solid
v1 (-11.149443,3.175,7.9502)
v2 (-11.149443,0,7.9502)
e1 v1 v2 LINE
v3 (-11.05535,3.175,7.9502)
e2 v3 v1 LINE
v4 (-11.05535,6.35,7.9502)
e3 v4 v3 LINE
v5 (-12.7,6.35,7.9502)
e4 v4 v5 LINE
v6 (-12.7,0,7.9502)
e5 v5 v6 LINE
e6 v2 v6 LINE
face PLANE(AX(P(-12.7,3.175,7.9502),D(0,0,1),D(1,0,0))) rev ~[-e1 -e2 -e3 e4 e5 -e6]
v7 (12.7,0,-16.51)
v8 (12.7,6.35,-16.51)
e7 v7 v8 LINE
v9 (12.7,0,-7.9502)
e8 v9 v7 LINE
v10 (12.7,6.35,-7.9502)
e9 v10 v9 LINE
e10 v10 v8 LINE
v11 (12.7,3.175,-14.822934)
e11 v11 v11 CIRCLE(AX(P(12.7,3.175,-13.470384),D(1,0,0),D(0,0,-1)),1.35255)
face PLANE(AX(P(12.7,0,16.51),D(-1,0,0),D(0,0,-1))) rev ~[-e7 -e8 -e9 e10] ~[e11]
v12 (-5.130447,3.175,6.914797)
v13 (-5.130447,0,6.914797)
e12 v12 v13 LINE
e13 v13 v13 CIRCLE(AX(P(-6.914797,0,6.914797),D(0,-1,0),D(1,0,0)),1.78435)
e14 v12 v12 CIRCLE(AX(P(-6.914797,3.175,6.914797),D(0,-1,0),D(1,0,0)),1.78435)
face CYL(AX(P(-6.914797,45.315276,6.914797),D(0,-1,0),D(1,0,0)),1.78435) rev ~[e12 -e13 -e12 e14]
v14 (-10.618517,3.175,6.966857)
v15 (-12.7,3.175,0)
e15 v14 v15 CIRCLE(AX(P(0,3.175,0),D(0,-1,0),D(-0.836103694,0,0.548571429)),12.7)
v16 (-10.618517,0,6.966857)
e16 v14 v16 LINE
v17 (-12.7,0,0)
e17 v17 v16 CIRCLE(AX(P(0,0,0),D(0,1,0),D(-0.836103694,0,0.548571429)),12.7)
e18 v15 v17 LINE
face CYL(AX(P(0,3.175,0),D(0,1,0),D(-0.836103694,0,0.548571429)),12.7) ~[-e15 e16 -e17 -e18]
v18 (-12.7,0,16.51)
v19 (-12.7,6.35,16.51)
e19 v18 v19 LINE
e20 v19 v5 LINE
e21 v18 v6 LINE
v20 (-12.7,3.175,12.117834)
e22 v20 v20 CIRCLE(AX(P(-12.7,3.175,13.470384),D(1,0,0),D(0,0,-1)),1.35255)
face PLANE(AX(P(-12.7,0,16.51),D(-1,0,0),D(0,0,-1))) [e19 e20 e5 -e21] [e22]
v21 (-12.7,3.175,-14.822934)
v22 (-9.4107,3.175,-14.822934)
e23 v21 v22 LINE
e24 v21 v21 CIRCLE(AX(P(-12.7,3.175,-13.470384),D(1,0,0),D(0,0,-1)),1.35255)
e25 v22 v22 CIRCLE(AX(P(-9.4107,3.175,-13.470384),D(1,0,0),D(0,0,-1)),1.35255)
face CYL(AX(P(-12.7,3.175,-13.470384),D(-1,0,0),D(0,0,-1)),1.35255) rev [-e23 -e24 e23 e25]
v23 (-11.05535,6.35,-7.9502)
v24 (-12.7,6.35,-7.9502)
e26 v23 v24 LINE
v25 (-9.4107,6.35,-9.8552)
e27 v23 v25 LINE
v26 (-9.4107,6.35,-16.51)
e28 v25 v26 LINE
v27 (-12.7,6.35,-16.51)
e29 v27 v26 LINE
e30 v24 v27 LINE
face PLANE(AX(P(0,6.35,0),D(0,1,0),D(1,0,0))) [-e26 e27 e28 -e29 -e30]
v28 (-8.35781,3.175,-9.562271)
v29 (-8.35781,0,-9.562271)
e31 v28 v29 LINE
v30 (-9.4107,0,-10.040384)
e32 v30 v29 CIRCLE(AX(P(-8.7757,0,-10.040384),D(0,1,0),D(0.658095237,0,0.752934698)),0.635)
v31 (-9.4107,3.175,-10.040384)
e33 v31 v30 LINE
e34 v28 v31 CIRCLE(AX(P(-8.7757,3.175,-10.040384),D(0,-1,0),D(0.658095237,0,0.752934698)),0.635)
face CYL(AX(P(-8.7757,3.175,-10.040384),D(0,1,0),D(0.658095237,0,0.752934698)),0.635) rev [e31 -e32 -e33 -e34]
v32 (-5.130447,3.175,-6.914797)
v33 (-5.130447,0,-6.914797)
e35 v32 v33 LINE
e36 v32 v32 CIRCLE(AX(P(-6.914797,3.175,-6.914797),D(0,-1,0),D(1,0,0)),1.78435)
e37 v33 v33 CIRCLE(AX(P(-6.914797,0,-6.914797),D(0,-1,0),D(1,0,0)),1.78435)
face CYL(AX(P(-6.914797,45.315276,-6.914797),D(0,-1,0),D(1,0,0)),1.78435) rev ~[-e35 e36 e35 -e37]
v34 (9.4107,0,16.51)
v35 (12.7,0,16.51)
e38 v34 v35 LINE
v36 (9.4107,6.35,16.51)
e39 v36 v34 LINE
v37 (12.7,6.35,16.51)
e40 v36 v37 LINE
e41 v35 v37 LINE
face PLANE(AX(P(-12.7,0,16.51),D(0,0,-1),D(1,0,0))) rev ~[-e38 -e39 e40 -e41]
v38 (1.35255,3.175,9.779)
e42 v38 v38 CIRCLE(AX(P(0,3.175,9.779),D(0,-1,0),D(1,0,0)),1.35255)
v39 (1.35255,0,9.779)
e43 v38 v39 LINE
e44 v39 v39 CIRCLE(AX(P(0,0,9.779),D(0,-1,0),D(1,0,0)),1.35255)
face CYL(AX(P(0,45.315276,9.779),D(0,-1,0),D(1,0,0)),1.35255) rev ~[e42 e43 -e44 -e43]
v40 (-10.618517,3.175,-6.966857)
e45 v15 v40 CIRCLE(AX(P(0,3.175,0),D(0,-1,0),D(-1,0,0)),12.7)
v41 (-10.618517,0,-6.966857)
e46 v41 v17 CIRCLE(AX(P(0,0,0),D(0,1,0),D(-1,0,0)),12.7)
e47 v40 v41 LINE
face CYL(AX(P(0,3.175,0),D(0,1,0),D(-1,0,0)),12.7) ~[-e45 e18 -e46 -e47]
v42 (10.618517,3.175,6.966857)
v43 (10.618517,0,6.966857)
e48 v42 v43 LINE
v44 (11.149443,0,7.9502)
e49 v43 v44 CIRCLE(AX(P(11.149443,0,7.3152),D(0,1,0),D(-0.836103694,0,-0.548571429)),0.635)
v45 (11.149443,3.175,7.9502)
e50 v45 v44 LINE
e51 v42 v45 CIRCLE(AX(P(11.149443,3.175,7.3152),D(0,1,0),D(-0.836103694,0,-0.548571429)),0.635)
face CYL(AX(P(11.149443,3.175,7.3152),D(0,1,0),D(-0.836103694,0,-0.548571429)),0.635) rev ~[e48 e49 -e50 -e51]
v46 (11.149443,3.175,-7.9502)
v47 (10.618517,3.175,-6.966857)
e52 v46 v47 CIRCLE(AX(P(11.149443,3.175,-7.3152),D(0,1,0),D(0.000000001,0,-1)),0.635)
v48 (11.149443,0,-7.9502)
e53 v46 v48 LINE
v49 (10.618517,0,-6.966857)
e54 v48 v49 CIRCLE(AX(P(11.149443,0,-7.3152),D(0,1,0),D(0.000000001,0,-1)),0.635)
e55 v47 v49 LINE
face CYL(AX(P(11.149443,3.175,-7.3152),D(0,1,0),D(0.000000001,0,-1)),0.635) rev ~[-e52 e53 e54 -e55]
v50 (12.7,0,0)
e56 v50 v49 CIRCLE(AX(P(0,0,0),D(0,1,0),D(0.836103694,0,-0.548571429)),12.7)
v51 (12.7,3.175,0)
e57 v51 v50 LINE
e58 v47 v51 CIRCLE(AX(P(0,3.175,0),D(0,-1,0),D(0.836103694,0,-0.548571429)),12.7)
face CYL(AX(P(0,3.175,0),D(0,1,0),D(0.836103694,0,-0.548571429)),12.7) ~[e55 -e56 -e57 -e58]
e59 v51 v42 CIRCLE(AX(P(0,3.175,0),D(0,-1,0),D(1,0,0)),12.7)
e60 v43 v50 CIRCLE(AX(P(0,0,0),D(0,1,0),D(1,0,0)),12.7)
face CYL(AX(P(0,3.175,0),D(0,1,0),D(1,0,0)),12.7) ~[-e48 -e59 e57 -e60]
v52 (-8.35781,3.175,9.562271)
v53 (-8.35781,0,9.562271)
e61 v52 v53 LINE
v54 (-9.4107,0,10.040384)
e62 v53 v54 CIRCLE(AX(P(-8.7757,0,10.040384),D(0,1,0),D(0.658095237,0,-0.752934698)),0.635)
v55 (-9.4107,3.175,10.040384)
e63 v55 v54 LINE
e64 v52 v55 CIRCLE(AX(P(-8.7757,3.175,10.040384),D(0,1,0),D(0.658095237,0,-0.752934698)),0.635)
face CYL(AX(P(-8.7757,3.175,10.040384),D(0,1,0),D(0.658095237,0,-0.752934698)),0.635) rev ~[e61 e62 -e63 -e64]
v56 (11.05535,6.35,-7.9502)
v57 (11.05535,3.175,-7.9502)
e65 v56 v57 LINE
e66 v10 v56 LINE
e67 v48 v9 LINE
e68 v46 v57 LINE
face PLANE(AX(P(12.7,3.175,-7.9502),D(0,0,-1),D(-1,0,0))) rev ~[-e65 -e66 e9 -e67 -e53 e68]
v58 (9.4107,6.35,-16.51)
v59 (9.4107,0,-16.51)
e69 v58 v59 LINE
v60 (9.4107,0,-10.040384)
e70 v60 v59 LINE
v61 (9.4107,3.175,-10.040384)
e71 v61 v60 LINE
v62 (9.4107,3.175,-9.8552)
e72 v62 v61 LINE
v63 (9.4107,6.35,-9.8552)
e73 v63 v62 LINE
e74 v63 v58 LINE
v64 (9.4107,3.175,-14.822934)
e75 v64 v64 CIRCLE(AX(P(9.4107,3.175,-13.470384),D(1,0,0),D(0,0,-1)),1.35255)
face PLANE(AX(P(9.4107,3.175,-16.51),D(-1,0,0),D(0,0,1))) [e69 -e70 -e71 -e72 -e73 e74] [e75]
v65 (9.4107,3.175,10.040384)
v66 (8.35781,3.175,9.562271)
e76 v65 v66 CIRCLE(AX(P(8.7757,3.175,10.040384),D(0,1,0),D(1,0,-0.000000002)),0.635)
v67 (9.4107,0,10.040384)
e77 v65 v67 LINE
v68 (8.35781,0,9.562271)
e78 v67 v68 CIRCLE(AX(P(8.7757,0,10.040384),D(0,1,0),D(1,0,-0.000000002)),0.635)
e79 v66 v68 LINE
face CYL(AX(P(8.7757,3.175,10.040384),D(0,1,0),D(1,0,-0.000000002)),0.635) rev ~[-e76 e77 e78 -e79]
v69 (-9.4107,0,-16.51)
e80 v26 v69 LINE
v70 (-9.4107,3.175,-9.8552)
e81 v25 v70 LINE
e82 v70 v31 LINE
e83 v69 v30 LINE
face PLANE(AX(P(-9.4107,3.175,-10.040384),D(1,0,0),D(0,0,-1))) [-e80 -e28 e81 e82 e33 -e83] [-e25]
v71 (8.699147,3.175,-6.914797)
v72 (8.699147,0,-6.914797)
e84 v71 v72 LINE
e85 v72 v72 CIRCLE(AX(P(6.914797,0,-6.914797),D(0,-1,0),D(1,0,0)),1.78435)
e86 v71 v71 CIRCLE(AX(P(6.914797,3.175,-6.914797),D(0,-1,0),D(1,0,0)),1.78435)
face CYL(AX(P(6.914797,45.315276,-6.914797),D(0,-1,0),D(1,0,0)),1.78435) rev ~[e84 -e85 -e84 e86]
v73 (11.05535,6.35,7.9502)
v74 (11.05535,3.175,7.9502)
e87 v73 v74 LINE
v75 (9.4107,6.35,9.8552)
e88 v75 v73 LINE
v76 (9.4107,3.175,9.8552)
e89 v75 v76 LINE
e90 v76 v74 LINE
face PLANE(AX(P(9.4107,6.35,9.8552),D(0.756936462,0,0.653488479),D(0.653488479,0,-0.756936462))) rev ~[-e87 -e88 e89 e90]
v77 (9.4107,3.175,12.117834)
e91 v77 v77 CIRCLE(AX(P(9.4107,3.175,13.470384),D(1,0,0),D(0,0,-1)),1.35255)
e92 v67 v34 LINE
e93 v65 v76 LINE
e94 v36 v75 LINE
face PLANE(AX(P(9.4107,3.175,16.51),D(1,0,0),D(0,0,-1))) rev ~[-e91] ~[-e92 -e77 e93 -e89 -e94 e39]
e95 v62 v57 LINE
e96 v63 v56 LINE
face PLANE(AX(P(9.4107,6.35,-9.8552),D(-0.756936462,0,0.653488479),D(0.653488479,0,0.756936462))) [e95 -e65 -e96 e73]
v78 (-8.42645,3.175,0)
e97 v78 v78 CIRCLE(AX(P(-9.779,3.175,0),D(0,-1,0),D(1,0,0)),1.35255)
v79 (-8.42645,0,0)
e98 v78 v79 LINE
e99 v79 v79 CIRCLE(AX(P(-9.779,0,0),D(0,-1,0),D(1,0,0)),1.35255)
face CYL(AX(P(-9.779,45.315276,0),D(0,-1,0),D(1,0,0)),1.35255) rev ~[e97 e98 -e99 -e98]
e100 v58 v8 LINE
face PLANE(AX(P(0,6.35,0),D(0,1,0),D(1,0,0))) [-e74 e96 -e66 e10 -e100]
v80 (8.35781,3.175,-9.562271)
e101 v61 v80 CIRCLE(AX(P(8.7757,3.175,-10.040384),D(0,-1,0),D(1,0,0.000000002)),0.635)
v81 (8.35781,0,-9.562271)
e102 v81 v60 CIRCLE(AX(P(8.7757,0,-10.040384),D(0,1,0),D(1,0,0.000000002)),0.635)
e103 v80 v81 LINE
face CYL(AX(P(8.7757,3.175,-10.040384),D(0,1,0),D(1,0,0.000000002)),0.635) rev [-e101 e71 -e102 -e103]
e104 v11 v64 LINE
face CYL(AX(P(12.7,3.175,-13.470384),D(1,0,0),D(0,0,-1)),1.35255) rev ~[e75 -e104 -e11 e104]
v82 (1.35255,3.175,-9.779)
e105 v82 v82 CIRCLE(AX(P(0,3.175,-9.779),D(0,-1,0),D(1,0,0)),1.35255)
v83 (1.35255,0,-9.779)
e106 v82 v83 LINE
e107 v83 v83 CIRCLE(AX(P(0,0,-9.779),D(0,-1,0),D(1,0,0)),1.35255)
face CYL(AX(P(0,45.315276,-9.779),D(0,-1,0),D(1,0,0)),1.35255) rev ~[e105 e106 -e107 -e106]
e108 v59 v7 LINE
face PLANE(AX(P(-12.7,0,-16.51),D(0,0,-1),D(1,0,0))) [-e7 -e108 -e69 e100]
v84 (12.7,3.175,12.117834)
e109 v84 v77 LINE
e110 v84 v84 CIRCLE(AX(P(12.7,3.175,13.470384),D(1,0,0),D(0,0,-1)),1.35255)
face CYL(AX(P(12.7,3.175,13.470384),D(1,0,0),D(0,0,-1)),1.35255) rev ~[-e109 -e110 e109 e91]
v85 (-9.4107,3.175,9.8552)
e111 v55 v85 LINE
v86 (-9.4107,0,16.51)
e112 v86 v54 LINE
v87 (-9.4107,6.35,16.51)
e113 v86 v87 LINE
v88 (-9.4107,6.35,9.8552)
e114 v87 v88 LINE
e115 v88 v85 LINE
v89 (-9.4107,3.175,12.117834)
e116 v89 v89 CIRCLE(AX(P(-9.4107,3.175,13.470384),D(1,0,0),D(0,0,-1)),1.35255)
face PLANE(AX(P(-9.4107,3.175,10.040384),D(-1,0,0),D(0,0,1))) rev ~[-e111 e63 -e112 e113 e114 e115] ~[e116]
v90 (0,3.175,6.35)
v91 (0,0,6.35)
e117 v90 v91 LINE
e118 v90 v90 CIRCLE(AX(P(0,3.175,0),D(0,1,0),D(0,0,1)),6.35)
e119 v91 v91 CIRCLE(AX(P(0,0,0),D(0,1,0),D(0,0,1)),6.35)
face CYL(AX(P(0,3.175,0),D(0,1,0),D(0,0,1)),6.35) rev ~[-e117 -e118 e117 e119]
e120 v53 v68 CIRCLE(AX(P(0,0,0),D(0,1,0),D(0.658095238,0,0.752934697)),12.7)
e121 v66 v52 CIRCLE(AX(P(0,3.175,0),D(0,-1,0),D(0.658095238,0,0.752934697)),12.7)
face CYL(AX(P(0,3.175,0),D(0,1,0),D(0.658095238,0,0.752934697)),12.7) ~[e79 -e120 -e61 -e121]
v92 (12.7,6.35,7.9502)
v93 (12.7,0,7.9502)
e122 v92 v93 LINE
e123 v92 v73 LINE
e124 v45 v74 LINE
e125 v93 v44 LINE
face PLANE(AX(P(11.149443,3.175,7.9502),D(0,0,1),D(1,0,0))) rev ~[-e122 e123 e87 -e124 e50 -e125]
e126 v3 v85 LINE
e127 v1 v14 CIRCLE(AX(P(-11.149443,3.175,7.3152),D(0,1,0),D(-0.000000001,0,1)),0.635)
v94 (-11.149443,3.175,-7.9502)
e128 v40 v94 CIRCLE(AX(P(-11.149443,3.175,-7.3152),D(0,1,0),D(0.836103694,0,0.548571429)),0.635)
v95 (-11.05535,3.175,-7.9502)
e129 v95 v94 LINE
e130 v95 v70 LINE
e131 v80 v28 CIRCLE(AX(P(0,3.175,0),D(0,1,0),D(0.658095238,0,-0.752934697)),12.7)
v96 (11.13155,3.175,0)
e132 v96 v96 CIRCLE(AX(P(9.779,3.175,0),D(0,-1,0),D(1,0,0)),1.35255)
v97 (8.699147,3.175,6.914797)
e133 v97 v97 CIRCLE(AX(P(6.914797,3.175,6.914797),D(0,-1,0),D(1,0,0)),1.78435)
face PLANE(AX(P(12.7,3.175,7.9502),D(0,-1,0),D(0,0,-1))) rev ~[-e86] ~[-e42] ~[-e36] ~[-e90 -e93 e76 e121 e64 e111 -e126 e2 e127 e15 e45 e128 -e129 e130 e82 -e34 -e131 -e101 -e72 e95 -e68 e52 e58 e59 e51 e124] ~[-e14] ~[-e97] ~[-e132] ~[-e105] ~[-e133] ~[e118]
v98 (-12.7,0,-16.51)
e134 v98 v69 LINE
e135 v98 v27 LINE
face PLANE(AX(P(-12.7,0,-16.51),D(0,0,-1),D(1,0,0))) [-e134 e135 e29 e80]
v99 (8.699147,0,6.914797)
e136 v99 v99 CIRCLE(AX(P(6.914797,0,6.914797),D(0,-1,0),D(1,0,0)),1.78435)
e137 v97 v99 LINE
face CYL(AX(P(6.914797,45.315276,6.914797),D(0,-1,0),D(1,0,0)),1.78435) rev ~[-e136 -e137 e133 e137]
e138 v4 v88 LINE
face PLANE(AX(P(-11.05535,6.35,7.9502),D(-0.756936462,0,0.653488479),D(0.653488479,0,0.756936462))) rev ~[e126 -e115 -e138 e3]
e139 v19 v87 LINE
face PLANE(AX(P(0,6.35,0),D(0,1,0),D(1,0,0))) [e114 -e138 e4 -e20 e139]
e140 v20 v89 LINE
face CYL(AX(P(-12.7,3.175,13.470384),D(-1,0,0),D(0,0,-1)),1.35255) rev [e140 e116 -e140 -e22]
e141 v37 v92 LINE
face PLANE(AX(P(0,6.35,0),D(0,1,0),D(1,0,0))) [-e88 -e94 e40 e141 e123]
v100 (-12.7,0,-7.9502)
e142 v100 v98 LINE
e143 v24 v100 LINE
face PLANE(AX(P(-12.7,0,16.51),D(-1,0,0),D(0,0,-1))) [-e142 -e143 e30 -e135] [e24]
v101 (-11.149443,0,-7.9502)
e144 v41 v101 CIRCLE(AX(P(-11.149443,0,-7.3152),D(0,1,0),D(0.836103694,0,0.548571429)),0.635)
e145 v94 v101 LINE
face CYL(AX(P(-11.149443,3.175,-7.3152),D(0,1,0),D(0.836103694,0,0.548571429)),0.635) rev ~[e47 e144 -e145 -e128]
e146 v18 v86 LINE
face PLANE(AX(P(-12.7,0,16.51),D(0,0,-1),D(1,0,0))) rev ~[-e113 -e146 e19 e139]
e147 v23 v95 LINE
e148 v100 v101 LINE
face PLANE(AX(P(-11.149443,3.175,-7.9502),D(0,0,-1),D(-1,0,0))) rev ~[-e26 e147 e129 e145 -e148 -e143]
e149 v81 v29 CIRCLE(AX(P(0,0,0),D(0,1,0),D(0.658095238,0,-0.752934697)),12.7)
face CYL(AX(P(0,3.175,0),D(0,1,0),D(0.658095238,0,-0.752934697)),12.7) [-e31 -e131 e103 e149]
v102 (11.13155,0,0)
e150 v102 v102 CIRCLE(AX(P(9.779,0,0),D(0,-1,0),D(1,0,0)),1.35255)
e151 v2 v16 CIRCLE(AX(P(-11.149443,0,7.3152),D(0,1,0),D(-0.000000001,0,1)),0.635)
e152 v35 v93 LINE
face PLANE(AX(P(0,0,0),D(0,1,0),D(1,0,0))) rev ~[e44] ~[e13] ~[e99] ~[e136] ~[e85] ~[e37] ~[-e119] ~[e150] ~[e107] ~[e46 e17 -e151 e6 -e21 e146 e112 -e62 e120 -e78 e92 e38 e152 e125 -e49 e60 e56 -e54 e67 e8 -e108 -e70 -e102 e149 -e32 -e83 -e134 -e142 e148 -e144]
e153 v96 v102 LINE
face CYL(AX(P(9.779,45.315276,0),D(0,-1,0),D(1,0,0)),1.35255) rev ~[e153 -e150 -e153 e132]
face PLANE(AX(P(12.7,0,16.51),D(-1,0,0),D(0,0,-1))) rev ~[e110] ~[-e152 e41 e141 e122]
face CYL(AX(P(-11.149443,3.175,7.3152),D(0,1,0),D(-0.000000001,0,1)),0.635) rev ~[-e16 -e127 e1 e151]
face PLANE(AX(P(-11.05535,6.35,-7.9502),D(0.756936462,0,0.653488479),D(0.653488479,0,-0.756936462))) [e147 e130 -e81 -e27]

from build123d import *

# Parameters (mm, degrees)
SKETCH1_W                    = 25.4
SKETCH1_H                    = 33.02
BOSS_EXTRUDE1_DEPTH          = 6.35
CUT_EXTRUDE1_REACH           = 37.943
SKETCH2_W                    = 18.8214
SKETCH2_H                    = 3.175
SKETCH3_W                    = 15.9004
SKETCH3_H                    = 3.175
CUT_EXTRUDE2_DEPTH           = 31.952586322
CUT_EXTRUDE3_REACH           = 23.07
SKETCH4_R                    = 6.35
CUT_EXTRUDE4_REACH           = 23.07
CUT_EXTRUDE5_REACH           = 23.07
CUT_EXTRUDE6_DEPTH           = 3.175
F_6_32_TAPPED_HOLE1_D        = 2.7051
F_28_0_1405_DIAMETER_HOLE1_D = 3.5687
F_6_32_TAPPED_HOLE2_REACH    = 32.953
F_6_32_TAPPED_HOLE2_BORE_R   = 1.35255


with BuildPart() as part:
    # Sketch1 → Boss-Extrude1 (new body)
    with BuildSketch(Plane(origin=(0, 0, 0), x_dir=(1, 0, 0), z_dir=(0, 1, 0))):
        Rectangle(SKETCH1_W, SKETCH1_H)
    extrude(amount=BOSS_EXTRUDE1_DEPTH)

    # Sketch2 → Cut-Extrude1 (cut, up to next)
    with BuildSketch(Plane.XY.offset(16.51), mode=Mode.PRIVATE) as cut_extrude1_sk1:
        with Locations((0, 4.7625)):
            Rectangle(SKETCH2_W, SKETCH2_H)
    cut_extrude1_tool1 = extrude(cut_extrude1_sk1.sketch, amount=-CUT_EXTRUDE1_REACH, mode=Mode.PRIVATE) & part.part
    add(cut_extrude1_tool1.solids().sort_by_distance((0, 4.7625, 16.51))[0], mode=Mode.SUBTRACT)

    # Sketch3 → Cut-Extrude2 (cut, through all)
    with BuildSketch(Plane(origin=(12.7, 0, 0), x_dir=(0, 0, -1), z_dir=(1, 0, 0))):
        with Locations((0, 4.7625)):
            Rectangle(SKETCH3_W, SKETCH3_H)
    extrude(amount=-CUT_EXTRUDE2_DEPTH, mode=Mode.SUBTRACT)

    # Sketch4 → Cut-Extrude3 (cut, up to next)
    with BuildSketch(Plane(origin=(0, 3.175, 0), x_dir=(1, 0, 0), z_dir=(0, 1, 0)), mode=Mode.PRIVATE) as cut_extrude3_sk1:
        with Locations(Location((0, 0, 0), (0, 0, 270))):
            Circle(SKETCH4_R)
    cut_extrude3_tool1 = extrude(cut_extrude3_sk1.sketch, amount=-CUT_EXTRUDE3_REACH, mode=Mode.PRIVATE) & part.part
    add(cut_extrude3_tool1.solids().sort_by_distance((0, 3.175, 0))[0], mode=Mode.SUBTRACT)

    # Sketch5 → Cut-Extrude4 (cut, up to next)
    with BuildSketch(Plane(origin=(0, 3.175, 0), x_dir=(-1, 0, 0), z_dir=(0, 1, 0)), mode=Mode.PRIVATE) as cut_extrude4_sk1:
        with BuildLine():
            Line((11.149442765, -7.9502), (12.7, -7.9502))
            Line((12.7, -7.9502), (12.7, 0))
            ThreePointArc((12.7, 0), (12.168507815, -3.635576648), (10.618516919, -6.966857143))
            ThreePointArc((10.618516919, -6.966857143), (10.590684, -7.616884675), (11.149442765, -7.9502))
        make_face()
    cut_extrude4_tool1 = extrude(cut_extrude4_sk1.sketch, amount=-CUT_EXTRUDE4_REACH, mode=Mode.PRIVATE) & part.part
    # Sketch5 → Cut-Extrude4 (cut, up to next)
    with BuildSketch(Plane(origin=(0, 3.175, 0), x_dir=(-1, 0, 0), z_dir=(0, 1, 0)), mode=Mode.PRIVATE) as cut_extrude4_sk2:
        with BuildLine():
            ThreePointArc((10.618516919, 6.966857143), (12.168507815, 3.635576648), (12.7, 0))
            Line((12.7, 0), (12.7, 7.9502))
            Line((12.7, 7.9502), (11.149442765, 7.9502))
            ThreePointArc((11.149442765, 7.9502), (10.590684, 7.616884675), (10.618516919, 6.966857143))
        make_face()
    cut_extrude4_tool2 = extrude(cut_extrude4_sk2.sketch, amount=-CUT_EXTRUDE4_REACH, mode=Mode.PRIVATE) & part.part
    # Sketch5 → Cut-Extrude4 (cut, up to next)
    with BuildSketch(Plane(origin=(0, 3.175, 0), x_dir=(-1, 0, 0), z_dir=(0, 1, 0)), mode=Mode.PRIVATE) as cut_extrude4_sk3:
        with BuildLine():
            ThreePointArc((-10.618516919, -6.966857143), (-12.168507815, -3.635576648), (-12.7, 0))
            Line((-12.7, 0), (-12.7, -7.9502))
            Line((-12.7, -7.9502), (-11.149442765, -7.9502))
            ThreePointArc((-11.149442765, -7.9502), (-10.590684, -7.616884675), (-10.618516919, -6.966857143))
        make_face()
    cut_extrude4_tool3 = extrude(cut_extrude4_sk3.sketch, amount=-CUT_EXTRUDE4_REACH, mode=Mode.PRIVATE) & part.part
    # Sketch5 → Cut-Extrude4 (cut, up to next)
    with BuildSketch(Plane(origin=(0, 3.175, 0), x_dir=(-1, 0, 0), z_dir=(0, 1, 0)), mode=Mode.PRIVATE) as cut_extrude4_sk4:
        with BuildLine():
            Line((-12.7, 7.9502), (-12.7, 0))
            ThreePointArc((-12.7, 0), (-12.168507815, 3.635576648), (-10.618516919, 6.966857143))
            ThreePointArc((-10.618516919, 6.966857143), (-10.590684, 7.616884675), (-11.149442765, 7.9502))
            Line((-11.149442765, 7.9502), (-12.7, 7.9502))
        make_face()
    cut_extrude4_tool4 = extrude(cut_extrude4_sk4.sketch, amount=-CUT_EXTRUDE4_REACH, mode=Mode.PRIVATE) & part.part
    add(cut_extrude4_tool1.solids().sort_by_distance((-11.953453, 3.175, -5.924274))[0], mode=Mode.SUBTRACT)
    add(cut_extrude4_tool2.solids().sort_by_distance((-11.953453, 3.175, 5.924274))[0], mode=Mode.SUBTRACT)
    add(cut_extrude4_tool3.solids().sort_by_distance((11.953453, 3.175, -5.924274))[0], mode=Mode.SUBTRACT)
    add(cut_extrude4_tool4.solids().sort_by_distance((11.953453, 3.175, 5.924274))[0], mode=Mode.SUBTRACT)

    # Sketch6 → Cut-Extrude5 (cut, up to next)
    with BuildSketch(Plane(origin=(0, 3.175, 0), x_dir=(1, 0, 0), z_dir=(0, 1, 0)), mode=Mode.PRIVATE) as cut_extrude5_sk1:
        with BuildLine():
            Line((-9.4107, -10.040384181), (-9.4107, -16.51))
            Line((-9.4107, -16.51), (9.4107, -16.51))
            Line((9.4107, -16.51), (9.4107, -10.040384181))
            ThreePointArc((9.4107, -10.040384181), (9.038249564, -9.462203651), (8.357809524, -9.562270649))
            ThreePointArc((8.357809524, -9.562270649), (0, -12.7), (-8.357809524, -9.562270649))
            ThreePointArc((-8.357809524, -9.562270649), (-9.038249564, -9.462203651), (-9.4107, -10.040384181))
        make_face()
    cut_extrude5_tool1 = extrude(cut_extrude5_sk1.sketch, amount=-CUT_EXTRUDE5_REACH, mode=Mode.PRIVATE) & part.part
    # Sketch6 → Cut-Extrude5 (cut, up to next)
    with BuildSketch(Plane(origin=(0, 3.175, 0), x_dir=(1, 0, 0), z_dir=(0, 1, 0)), mode=Mode.PRIVATE) as cut_extrude5_sk2:
        with BuildLine():
            Line((9.4107, 16.51), (9.4107, 10.040384181))
            ThreePointArc((9.4107, 10.040384181), (9.038249564, 9.462203651), (8.357809524, 9.562270649))
            ThreePointArc((8.357809524, 9.562270649), (0, 12.7), (-8.357809524, 9.562270649))
            ThreePointArc((-8.357809524, 9.562270649), (-9.038249564, 9.462203651), (-9.4107, 10.040384181))
            Line((-9.4107, 10.040384181), (-9.4107, 16.51))
            Line((-9.4107, 16.51), (9.4107, 16.51))
        make_face()
    cut_extrude5_tool2 = extrude(cut_extrude5_sk2.sketch, amount=-CUT_EXTRUDE5_REACH, mode=Mode.PRIVATE) & part.part
    add(cut_extrude5_tool1.solids().sort_by_distance((0, 3.175, 13.865951))[0], mode=Mode.SUBTRACT)
    add(cut_extrude5_tool2.solids().sort_by_distance((0, 3.175, -13.865951))[0], mode=Mode.SUBTRACT)

    # Sketch7 → Cut-Extrude6 (cut)
    with BuildSketch(Plane(origin=(0, 6.35, 0), x_dir=(1, 0, 0), z_dir=(0, 1, 0))):
        Polygon((-11.05535, 7.9502), (-9.4107, 9.8552), (-9.4107, 7.9502), align=None)
        Polygon((-11.05535, -7.9502), (-9.4107, -9.8552), (-9.4107, -7.9502), align=None)
        Polygon((9.4107, -9.8552), (11.05535, -7.9502), (9.4107, -7.9502), align=None)
        Polygon((9.4107, 9.8552), (11.05535, 7.9502), (9.4107, 7.9502), align=None)
    extrude(amount=-CUT_EXTRUDE6_DEPTH, mode=Mode.SUBTRACT)

    # #6-32 Tapped Hole1 (through all)
    with Locations(Plane(origin=(0, 3.175, 0), x_dir=(-1, 0, 0), z_dir=(0, 1, 0))):
        with Locations((0, -9.779), (-9.779, 0), (0, 9.779), (9.779, 0)):
            Hole(F_6_32_TAPPED_HOLE1_D / 2)

    # #28 (0.1405) Diameter Hole1 (through all)
    with Locations(Plane(origin=(0, 3.175, 0), x_dir=(-1, 0, 0), z_dir=(0, 1, 0))):
        with Locations((6.914797213, -6.914797213), (-6.914797213, -6.914797213), (-6.914797213, 6.914797213), (6.914797213, 6.914797213)):
            Hole(F_28_0_1405_DIAMETER_HOLE1_D / 2)

    # #6-32 Tapped Hole2 bore → #6-32 Tapped Hole2 (cut, up to next)
    with BuildSketch(Plane(origin=(12.7, 0, 0), x_dir=(0, 0, -1), z_dir=(1, 0, 0)), mode=Mode.PRIVATE) as f_6_32_tapped_hole2_sk1:
        with Locations((-13.470384182, 3.175)):
            Circle(F_6_32_TAPPED_HOLE2_BORE_R)
    f_6_32_tapped_hole2_tool1 = extrude(f_6_32_tapped_hole2_sk1.sketch, amount=-F_6_32_TAPPED_HOLE2_REACH, mode=Mode.PRIVATE) & part.part
    # #6-32 Tapped Hole2 bore → #6-32 Tapped Hole2 (cut, up to next)
    with BuildSketch(Plane(origin=(12.7, 0, 0), x_dir=(0, 0, -1), z_dir=(1, 0, 0)), mode=Mode.PRIVATE) as f_6_32_tapped_hole2_sk2:
        with Locations((13.470384182, 3.175)):
            Circle(F_6_32_TAPPED_HOLE2_BORE_R)
    f_6_32_tapped_hole2_tool2 = extrude(f_6_32_tapped_hole2_sk2.sketch, amount=-F_6_32_TAPPED_HOLE2_REACH, mode=Mode.PRIVATE) & part.part
    f_6_32_tapped_hole2_1 = f_6_32_tapped_hole2_tool1.solids().sort_by_distance((12.7, 3.175, 13.470384))[0]
    add(f_6_32_tapped_hole2_1, mode=Mode.SUBTRACT)
    f_6_32_tapped_hole2_2 = f_6_32_tapped_hole2_tool2.solids().sort_by_distance((12.7, 3.175, -13.470384))[0]
    add(f_6_32_tapped_hole2_2, mode=Mode.SUBTRACT)
    f_6_32_tapped_hole2 = f_6_32_tapped_hole2_1 + f_6_32_tapped_hole2_2  # #6-32 Tapped Hole2 as one shape, for the pattern or mirror that repeats it

    # Mirror1: #6-32 Tapped Hole2 across plane
    add(f_6_32_tapped_hole2.mirror(Plane(origin=(0, 0, 0), x_dir=(0, 0, 1), z_dir=(1, 0, 0))), mode=Mode.SUBTRACT)


solid = part.part
